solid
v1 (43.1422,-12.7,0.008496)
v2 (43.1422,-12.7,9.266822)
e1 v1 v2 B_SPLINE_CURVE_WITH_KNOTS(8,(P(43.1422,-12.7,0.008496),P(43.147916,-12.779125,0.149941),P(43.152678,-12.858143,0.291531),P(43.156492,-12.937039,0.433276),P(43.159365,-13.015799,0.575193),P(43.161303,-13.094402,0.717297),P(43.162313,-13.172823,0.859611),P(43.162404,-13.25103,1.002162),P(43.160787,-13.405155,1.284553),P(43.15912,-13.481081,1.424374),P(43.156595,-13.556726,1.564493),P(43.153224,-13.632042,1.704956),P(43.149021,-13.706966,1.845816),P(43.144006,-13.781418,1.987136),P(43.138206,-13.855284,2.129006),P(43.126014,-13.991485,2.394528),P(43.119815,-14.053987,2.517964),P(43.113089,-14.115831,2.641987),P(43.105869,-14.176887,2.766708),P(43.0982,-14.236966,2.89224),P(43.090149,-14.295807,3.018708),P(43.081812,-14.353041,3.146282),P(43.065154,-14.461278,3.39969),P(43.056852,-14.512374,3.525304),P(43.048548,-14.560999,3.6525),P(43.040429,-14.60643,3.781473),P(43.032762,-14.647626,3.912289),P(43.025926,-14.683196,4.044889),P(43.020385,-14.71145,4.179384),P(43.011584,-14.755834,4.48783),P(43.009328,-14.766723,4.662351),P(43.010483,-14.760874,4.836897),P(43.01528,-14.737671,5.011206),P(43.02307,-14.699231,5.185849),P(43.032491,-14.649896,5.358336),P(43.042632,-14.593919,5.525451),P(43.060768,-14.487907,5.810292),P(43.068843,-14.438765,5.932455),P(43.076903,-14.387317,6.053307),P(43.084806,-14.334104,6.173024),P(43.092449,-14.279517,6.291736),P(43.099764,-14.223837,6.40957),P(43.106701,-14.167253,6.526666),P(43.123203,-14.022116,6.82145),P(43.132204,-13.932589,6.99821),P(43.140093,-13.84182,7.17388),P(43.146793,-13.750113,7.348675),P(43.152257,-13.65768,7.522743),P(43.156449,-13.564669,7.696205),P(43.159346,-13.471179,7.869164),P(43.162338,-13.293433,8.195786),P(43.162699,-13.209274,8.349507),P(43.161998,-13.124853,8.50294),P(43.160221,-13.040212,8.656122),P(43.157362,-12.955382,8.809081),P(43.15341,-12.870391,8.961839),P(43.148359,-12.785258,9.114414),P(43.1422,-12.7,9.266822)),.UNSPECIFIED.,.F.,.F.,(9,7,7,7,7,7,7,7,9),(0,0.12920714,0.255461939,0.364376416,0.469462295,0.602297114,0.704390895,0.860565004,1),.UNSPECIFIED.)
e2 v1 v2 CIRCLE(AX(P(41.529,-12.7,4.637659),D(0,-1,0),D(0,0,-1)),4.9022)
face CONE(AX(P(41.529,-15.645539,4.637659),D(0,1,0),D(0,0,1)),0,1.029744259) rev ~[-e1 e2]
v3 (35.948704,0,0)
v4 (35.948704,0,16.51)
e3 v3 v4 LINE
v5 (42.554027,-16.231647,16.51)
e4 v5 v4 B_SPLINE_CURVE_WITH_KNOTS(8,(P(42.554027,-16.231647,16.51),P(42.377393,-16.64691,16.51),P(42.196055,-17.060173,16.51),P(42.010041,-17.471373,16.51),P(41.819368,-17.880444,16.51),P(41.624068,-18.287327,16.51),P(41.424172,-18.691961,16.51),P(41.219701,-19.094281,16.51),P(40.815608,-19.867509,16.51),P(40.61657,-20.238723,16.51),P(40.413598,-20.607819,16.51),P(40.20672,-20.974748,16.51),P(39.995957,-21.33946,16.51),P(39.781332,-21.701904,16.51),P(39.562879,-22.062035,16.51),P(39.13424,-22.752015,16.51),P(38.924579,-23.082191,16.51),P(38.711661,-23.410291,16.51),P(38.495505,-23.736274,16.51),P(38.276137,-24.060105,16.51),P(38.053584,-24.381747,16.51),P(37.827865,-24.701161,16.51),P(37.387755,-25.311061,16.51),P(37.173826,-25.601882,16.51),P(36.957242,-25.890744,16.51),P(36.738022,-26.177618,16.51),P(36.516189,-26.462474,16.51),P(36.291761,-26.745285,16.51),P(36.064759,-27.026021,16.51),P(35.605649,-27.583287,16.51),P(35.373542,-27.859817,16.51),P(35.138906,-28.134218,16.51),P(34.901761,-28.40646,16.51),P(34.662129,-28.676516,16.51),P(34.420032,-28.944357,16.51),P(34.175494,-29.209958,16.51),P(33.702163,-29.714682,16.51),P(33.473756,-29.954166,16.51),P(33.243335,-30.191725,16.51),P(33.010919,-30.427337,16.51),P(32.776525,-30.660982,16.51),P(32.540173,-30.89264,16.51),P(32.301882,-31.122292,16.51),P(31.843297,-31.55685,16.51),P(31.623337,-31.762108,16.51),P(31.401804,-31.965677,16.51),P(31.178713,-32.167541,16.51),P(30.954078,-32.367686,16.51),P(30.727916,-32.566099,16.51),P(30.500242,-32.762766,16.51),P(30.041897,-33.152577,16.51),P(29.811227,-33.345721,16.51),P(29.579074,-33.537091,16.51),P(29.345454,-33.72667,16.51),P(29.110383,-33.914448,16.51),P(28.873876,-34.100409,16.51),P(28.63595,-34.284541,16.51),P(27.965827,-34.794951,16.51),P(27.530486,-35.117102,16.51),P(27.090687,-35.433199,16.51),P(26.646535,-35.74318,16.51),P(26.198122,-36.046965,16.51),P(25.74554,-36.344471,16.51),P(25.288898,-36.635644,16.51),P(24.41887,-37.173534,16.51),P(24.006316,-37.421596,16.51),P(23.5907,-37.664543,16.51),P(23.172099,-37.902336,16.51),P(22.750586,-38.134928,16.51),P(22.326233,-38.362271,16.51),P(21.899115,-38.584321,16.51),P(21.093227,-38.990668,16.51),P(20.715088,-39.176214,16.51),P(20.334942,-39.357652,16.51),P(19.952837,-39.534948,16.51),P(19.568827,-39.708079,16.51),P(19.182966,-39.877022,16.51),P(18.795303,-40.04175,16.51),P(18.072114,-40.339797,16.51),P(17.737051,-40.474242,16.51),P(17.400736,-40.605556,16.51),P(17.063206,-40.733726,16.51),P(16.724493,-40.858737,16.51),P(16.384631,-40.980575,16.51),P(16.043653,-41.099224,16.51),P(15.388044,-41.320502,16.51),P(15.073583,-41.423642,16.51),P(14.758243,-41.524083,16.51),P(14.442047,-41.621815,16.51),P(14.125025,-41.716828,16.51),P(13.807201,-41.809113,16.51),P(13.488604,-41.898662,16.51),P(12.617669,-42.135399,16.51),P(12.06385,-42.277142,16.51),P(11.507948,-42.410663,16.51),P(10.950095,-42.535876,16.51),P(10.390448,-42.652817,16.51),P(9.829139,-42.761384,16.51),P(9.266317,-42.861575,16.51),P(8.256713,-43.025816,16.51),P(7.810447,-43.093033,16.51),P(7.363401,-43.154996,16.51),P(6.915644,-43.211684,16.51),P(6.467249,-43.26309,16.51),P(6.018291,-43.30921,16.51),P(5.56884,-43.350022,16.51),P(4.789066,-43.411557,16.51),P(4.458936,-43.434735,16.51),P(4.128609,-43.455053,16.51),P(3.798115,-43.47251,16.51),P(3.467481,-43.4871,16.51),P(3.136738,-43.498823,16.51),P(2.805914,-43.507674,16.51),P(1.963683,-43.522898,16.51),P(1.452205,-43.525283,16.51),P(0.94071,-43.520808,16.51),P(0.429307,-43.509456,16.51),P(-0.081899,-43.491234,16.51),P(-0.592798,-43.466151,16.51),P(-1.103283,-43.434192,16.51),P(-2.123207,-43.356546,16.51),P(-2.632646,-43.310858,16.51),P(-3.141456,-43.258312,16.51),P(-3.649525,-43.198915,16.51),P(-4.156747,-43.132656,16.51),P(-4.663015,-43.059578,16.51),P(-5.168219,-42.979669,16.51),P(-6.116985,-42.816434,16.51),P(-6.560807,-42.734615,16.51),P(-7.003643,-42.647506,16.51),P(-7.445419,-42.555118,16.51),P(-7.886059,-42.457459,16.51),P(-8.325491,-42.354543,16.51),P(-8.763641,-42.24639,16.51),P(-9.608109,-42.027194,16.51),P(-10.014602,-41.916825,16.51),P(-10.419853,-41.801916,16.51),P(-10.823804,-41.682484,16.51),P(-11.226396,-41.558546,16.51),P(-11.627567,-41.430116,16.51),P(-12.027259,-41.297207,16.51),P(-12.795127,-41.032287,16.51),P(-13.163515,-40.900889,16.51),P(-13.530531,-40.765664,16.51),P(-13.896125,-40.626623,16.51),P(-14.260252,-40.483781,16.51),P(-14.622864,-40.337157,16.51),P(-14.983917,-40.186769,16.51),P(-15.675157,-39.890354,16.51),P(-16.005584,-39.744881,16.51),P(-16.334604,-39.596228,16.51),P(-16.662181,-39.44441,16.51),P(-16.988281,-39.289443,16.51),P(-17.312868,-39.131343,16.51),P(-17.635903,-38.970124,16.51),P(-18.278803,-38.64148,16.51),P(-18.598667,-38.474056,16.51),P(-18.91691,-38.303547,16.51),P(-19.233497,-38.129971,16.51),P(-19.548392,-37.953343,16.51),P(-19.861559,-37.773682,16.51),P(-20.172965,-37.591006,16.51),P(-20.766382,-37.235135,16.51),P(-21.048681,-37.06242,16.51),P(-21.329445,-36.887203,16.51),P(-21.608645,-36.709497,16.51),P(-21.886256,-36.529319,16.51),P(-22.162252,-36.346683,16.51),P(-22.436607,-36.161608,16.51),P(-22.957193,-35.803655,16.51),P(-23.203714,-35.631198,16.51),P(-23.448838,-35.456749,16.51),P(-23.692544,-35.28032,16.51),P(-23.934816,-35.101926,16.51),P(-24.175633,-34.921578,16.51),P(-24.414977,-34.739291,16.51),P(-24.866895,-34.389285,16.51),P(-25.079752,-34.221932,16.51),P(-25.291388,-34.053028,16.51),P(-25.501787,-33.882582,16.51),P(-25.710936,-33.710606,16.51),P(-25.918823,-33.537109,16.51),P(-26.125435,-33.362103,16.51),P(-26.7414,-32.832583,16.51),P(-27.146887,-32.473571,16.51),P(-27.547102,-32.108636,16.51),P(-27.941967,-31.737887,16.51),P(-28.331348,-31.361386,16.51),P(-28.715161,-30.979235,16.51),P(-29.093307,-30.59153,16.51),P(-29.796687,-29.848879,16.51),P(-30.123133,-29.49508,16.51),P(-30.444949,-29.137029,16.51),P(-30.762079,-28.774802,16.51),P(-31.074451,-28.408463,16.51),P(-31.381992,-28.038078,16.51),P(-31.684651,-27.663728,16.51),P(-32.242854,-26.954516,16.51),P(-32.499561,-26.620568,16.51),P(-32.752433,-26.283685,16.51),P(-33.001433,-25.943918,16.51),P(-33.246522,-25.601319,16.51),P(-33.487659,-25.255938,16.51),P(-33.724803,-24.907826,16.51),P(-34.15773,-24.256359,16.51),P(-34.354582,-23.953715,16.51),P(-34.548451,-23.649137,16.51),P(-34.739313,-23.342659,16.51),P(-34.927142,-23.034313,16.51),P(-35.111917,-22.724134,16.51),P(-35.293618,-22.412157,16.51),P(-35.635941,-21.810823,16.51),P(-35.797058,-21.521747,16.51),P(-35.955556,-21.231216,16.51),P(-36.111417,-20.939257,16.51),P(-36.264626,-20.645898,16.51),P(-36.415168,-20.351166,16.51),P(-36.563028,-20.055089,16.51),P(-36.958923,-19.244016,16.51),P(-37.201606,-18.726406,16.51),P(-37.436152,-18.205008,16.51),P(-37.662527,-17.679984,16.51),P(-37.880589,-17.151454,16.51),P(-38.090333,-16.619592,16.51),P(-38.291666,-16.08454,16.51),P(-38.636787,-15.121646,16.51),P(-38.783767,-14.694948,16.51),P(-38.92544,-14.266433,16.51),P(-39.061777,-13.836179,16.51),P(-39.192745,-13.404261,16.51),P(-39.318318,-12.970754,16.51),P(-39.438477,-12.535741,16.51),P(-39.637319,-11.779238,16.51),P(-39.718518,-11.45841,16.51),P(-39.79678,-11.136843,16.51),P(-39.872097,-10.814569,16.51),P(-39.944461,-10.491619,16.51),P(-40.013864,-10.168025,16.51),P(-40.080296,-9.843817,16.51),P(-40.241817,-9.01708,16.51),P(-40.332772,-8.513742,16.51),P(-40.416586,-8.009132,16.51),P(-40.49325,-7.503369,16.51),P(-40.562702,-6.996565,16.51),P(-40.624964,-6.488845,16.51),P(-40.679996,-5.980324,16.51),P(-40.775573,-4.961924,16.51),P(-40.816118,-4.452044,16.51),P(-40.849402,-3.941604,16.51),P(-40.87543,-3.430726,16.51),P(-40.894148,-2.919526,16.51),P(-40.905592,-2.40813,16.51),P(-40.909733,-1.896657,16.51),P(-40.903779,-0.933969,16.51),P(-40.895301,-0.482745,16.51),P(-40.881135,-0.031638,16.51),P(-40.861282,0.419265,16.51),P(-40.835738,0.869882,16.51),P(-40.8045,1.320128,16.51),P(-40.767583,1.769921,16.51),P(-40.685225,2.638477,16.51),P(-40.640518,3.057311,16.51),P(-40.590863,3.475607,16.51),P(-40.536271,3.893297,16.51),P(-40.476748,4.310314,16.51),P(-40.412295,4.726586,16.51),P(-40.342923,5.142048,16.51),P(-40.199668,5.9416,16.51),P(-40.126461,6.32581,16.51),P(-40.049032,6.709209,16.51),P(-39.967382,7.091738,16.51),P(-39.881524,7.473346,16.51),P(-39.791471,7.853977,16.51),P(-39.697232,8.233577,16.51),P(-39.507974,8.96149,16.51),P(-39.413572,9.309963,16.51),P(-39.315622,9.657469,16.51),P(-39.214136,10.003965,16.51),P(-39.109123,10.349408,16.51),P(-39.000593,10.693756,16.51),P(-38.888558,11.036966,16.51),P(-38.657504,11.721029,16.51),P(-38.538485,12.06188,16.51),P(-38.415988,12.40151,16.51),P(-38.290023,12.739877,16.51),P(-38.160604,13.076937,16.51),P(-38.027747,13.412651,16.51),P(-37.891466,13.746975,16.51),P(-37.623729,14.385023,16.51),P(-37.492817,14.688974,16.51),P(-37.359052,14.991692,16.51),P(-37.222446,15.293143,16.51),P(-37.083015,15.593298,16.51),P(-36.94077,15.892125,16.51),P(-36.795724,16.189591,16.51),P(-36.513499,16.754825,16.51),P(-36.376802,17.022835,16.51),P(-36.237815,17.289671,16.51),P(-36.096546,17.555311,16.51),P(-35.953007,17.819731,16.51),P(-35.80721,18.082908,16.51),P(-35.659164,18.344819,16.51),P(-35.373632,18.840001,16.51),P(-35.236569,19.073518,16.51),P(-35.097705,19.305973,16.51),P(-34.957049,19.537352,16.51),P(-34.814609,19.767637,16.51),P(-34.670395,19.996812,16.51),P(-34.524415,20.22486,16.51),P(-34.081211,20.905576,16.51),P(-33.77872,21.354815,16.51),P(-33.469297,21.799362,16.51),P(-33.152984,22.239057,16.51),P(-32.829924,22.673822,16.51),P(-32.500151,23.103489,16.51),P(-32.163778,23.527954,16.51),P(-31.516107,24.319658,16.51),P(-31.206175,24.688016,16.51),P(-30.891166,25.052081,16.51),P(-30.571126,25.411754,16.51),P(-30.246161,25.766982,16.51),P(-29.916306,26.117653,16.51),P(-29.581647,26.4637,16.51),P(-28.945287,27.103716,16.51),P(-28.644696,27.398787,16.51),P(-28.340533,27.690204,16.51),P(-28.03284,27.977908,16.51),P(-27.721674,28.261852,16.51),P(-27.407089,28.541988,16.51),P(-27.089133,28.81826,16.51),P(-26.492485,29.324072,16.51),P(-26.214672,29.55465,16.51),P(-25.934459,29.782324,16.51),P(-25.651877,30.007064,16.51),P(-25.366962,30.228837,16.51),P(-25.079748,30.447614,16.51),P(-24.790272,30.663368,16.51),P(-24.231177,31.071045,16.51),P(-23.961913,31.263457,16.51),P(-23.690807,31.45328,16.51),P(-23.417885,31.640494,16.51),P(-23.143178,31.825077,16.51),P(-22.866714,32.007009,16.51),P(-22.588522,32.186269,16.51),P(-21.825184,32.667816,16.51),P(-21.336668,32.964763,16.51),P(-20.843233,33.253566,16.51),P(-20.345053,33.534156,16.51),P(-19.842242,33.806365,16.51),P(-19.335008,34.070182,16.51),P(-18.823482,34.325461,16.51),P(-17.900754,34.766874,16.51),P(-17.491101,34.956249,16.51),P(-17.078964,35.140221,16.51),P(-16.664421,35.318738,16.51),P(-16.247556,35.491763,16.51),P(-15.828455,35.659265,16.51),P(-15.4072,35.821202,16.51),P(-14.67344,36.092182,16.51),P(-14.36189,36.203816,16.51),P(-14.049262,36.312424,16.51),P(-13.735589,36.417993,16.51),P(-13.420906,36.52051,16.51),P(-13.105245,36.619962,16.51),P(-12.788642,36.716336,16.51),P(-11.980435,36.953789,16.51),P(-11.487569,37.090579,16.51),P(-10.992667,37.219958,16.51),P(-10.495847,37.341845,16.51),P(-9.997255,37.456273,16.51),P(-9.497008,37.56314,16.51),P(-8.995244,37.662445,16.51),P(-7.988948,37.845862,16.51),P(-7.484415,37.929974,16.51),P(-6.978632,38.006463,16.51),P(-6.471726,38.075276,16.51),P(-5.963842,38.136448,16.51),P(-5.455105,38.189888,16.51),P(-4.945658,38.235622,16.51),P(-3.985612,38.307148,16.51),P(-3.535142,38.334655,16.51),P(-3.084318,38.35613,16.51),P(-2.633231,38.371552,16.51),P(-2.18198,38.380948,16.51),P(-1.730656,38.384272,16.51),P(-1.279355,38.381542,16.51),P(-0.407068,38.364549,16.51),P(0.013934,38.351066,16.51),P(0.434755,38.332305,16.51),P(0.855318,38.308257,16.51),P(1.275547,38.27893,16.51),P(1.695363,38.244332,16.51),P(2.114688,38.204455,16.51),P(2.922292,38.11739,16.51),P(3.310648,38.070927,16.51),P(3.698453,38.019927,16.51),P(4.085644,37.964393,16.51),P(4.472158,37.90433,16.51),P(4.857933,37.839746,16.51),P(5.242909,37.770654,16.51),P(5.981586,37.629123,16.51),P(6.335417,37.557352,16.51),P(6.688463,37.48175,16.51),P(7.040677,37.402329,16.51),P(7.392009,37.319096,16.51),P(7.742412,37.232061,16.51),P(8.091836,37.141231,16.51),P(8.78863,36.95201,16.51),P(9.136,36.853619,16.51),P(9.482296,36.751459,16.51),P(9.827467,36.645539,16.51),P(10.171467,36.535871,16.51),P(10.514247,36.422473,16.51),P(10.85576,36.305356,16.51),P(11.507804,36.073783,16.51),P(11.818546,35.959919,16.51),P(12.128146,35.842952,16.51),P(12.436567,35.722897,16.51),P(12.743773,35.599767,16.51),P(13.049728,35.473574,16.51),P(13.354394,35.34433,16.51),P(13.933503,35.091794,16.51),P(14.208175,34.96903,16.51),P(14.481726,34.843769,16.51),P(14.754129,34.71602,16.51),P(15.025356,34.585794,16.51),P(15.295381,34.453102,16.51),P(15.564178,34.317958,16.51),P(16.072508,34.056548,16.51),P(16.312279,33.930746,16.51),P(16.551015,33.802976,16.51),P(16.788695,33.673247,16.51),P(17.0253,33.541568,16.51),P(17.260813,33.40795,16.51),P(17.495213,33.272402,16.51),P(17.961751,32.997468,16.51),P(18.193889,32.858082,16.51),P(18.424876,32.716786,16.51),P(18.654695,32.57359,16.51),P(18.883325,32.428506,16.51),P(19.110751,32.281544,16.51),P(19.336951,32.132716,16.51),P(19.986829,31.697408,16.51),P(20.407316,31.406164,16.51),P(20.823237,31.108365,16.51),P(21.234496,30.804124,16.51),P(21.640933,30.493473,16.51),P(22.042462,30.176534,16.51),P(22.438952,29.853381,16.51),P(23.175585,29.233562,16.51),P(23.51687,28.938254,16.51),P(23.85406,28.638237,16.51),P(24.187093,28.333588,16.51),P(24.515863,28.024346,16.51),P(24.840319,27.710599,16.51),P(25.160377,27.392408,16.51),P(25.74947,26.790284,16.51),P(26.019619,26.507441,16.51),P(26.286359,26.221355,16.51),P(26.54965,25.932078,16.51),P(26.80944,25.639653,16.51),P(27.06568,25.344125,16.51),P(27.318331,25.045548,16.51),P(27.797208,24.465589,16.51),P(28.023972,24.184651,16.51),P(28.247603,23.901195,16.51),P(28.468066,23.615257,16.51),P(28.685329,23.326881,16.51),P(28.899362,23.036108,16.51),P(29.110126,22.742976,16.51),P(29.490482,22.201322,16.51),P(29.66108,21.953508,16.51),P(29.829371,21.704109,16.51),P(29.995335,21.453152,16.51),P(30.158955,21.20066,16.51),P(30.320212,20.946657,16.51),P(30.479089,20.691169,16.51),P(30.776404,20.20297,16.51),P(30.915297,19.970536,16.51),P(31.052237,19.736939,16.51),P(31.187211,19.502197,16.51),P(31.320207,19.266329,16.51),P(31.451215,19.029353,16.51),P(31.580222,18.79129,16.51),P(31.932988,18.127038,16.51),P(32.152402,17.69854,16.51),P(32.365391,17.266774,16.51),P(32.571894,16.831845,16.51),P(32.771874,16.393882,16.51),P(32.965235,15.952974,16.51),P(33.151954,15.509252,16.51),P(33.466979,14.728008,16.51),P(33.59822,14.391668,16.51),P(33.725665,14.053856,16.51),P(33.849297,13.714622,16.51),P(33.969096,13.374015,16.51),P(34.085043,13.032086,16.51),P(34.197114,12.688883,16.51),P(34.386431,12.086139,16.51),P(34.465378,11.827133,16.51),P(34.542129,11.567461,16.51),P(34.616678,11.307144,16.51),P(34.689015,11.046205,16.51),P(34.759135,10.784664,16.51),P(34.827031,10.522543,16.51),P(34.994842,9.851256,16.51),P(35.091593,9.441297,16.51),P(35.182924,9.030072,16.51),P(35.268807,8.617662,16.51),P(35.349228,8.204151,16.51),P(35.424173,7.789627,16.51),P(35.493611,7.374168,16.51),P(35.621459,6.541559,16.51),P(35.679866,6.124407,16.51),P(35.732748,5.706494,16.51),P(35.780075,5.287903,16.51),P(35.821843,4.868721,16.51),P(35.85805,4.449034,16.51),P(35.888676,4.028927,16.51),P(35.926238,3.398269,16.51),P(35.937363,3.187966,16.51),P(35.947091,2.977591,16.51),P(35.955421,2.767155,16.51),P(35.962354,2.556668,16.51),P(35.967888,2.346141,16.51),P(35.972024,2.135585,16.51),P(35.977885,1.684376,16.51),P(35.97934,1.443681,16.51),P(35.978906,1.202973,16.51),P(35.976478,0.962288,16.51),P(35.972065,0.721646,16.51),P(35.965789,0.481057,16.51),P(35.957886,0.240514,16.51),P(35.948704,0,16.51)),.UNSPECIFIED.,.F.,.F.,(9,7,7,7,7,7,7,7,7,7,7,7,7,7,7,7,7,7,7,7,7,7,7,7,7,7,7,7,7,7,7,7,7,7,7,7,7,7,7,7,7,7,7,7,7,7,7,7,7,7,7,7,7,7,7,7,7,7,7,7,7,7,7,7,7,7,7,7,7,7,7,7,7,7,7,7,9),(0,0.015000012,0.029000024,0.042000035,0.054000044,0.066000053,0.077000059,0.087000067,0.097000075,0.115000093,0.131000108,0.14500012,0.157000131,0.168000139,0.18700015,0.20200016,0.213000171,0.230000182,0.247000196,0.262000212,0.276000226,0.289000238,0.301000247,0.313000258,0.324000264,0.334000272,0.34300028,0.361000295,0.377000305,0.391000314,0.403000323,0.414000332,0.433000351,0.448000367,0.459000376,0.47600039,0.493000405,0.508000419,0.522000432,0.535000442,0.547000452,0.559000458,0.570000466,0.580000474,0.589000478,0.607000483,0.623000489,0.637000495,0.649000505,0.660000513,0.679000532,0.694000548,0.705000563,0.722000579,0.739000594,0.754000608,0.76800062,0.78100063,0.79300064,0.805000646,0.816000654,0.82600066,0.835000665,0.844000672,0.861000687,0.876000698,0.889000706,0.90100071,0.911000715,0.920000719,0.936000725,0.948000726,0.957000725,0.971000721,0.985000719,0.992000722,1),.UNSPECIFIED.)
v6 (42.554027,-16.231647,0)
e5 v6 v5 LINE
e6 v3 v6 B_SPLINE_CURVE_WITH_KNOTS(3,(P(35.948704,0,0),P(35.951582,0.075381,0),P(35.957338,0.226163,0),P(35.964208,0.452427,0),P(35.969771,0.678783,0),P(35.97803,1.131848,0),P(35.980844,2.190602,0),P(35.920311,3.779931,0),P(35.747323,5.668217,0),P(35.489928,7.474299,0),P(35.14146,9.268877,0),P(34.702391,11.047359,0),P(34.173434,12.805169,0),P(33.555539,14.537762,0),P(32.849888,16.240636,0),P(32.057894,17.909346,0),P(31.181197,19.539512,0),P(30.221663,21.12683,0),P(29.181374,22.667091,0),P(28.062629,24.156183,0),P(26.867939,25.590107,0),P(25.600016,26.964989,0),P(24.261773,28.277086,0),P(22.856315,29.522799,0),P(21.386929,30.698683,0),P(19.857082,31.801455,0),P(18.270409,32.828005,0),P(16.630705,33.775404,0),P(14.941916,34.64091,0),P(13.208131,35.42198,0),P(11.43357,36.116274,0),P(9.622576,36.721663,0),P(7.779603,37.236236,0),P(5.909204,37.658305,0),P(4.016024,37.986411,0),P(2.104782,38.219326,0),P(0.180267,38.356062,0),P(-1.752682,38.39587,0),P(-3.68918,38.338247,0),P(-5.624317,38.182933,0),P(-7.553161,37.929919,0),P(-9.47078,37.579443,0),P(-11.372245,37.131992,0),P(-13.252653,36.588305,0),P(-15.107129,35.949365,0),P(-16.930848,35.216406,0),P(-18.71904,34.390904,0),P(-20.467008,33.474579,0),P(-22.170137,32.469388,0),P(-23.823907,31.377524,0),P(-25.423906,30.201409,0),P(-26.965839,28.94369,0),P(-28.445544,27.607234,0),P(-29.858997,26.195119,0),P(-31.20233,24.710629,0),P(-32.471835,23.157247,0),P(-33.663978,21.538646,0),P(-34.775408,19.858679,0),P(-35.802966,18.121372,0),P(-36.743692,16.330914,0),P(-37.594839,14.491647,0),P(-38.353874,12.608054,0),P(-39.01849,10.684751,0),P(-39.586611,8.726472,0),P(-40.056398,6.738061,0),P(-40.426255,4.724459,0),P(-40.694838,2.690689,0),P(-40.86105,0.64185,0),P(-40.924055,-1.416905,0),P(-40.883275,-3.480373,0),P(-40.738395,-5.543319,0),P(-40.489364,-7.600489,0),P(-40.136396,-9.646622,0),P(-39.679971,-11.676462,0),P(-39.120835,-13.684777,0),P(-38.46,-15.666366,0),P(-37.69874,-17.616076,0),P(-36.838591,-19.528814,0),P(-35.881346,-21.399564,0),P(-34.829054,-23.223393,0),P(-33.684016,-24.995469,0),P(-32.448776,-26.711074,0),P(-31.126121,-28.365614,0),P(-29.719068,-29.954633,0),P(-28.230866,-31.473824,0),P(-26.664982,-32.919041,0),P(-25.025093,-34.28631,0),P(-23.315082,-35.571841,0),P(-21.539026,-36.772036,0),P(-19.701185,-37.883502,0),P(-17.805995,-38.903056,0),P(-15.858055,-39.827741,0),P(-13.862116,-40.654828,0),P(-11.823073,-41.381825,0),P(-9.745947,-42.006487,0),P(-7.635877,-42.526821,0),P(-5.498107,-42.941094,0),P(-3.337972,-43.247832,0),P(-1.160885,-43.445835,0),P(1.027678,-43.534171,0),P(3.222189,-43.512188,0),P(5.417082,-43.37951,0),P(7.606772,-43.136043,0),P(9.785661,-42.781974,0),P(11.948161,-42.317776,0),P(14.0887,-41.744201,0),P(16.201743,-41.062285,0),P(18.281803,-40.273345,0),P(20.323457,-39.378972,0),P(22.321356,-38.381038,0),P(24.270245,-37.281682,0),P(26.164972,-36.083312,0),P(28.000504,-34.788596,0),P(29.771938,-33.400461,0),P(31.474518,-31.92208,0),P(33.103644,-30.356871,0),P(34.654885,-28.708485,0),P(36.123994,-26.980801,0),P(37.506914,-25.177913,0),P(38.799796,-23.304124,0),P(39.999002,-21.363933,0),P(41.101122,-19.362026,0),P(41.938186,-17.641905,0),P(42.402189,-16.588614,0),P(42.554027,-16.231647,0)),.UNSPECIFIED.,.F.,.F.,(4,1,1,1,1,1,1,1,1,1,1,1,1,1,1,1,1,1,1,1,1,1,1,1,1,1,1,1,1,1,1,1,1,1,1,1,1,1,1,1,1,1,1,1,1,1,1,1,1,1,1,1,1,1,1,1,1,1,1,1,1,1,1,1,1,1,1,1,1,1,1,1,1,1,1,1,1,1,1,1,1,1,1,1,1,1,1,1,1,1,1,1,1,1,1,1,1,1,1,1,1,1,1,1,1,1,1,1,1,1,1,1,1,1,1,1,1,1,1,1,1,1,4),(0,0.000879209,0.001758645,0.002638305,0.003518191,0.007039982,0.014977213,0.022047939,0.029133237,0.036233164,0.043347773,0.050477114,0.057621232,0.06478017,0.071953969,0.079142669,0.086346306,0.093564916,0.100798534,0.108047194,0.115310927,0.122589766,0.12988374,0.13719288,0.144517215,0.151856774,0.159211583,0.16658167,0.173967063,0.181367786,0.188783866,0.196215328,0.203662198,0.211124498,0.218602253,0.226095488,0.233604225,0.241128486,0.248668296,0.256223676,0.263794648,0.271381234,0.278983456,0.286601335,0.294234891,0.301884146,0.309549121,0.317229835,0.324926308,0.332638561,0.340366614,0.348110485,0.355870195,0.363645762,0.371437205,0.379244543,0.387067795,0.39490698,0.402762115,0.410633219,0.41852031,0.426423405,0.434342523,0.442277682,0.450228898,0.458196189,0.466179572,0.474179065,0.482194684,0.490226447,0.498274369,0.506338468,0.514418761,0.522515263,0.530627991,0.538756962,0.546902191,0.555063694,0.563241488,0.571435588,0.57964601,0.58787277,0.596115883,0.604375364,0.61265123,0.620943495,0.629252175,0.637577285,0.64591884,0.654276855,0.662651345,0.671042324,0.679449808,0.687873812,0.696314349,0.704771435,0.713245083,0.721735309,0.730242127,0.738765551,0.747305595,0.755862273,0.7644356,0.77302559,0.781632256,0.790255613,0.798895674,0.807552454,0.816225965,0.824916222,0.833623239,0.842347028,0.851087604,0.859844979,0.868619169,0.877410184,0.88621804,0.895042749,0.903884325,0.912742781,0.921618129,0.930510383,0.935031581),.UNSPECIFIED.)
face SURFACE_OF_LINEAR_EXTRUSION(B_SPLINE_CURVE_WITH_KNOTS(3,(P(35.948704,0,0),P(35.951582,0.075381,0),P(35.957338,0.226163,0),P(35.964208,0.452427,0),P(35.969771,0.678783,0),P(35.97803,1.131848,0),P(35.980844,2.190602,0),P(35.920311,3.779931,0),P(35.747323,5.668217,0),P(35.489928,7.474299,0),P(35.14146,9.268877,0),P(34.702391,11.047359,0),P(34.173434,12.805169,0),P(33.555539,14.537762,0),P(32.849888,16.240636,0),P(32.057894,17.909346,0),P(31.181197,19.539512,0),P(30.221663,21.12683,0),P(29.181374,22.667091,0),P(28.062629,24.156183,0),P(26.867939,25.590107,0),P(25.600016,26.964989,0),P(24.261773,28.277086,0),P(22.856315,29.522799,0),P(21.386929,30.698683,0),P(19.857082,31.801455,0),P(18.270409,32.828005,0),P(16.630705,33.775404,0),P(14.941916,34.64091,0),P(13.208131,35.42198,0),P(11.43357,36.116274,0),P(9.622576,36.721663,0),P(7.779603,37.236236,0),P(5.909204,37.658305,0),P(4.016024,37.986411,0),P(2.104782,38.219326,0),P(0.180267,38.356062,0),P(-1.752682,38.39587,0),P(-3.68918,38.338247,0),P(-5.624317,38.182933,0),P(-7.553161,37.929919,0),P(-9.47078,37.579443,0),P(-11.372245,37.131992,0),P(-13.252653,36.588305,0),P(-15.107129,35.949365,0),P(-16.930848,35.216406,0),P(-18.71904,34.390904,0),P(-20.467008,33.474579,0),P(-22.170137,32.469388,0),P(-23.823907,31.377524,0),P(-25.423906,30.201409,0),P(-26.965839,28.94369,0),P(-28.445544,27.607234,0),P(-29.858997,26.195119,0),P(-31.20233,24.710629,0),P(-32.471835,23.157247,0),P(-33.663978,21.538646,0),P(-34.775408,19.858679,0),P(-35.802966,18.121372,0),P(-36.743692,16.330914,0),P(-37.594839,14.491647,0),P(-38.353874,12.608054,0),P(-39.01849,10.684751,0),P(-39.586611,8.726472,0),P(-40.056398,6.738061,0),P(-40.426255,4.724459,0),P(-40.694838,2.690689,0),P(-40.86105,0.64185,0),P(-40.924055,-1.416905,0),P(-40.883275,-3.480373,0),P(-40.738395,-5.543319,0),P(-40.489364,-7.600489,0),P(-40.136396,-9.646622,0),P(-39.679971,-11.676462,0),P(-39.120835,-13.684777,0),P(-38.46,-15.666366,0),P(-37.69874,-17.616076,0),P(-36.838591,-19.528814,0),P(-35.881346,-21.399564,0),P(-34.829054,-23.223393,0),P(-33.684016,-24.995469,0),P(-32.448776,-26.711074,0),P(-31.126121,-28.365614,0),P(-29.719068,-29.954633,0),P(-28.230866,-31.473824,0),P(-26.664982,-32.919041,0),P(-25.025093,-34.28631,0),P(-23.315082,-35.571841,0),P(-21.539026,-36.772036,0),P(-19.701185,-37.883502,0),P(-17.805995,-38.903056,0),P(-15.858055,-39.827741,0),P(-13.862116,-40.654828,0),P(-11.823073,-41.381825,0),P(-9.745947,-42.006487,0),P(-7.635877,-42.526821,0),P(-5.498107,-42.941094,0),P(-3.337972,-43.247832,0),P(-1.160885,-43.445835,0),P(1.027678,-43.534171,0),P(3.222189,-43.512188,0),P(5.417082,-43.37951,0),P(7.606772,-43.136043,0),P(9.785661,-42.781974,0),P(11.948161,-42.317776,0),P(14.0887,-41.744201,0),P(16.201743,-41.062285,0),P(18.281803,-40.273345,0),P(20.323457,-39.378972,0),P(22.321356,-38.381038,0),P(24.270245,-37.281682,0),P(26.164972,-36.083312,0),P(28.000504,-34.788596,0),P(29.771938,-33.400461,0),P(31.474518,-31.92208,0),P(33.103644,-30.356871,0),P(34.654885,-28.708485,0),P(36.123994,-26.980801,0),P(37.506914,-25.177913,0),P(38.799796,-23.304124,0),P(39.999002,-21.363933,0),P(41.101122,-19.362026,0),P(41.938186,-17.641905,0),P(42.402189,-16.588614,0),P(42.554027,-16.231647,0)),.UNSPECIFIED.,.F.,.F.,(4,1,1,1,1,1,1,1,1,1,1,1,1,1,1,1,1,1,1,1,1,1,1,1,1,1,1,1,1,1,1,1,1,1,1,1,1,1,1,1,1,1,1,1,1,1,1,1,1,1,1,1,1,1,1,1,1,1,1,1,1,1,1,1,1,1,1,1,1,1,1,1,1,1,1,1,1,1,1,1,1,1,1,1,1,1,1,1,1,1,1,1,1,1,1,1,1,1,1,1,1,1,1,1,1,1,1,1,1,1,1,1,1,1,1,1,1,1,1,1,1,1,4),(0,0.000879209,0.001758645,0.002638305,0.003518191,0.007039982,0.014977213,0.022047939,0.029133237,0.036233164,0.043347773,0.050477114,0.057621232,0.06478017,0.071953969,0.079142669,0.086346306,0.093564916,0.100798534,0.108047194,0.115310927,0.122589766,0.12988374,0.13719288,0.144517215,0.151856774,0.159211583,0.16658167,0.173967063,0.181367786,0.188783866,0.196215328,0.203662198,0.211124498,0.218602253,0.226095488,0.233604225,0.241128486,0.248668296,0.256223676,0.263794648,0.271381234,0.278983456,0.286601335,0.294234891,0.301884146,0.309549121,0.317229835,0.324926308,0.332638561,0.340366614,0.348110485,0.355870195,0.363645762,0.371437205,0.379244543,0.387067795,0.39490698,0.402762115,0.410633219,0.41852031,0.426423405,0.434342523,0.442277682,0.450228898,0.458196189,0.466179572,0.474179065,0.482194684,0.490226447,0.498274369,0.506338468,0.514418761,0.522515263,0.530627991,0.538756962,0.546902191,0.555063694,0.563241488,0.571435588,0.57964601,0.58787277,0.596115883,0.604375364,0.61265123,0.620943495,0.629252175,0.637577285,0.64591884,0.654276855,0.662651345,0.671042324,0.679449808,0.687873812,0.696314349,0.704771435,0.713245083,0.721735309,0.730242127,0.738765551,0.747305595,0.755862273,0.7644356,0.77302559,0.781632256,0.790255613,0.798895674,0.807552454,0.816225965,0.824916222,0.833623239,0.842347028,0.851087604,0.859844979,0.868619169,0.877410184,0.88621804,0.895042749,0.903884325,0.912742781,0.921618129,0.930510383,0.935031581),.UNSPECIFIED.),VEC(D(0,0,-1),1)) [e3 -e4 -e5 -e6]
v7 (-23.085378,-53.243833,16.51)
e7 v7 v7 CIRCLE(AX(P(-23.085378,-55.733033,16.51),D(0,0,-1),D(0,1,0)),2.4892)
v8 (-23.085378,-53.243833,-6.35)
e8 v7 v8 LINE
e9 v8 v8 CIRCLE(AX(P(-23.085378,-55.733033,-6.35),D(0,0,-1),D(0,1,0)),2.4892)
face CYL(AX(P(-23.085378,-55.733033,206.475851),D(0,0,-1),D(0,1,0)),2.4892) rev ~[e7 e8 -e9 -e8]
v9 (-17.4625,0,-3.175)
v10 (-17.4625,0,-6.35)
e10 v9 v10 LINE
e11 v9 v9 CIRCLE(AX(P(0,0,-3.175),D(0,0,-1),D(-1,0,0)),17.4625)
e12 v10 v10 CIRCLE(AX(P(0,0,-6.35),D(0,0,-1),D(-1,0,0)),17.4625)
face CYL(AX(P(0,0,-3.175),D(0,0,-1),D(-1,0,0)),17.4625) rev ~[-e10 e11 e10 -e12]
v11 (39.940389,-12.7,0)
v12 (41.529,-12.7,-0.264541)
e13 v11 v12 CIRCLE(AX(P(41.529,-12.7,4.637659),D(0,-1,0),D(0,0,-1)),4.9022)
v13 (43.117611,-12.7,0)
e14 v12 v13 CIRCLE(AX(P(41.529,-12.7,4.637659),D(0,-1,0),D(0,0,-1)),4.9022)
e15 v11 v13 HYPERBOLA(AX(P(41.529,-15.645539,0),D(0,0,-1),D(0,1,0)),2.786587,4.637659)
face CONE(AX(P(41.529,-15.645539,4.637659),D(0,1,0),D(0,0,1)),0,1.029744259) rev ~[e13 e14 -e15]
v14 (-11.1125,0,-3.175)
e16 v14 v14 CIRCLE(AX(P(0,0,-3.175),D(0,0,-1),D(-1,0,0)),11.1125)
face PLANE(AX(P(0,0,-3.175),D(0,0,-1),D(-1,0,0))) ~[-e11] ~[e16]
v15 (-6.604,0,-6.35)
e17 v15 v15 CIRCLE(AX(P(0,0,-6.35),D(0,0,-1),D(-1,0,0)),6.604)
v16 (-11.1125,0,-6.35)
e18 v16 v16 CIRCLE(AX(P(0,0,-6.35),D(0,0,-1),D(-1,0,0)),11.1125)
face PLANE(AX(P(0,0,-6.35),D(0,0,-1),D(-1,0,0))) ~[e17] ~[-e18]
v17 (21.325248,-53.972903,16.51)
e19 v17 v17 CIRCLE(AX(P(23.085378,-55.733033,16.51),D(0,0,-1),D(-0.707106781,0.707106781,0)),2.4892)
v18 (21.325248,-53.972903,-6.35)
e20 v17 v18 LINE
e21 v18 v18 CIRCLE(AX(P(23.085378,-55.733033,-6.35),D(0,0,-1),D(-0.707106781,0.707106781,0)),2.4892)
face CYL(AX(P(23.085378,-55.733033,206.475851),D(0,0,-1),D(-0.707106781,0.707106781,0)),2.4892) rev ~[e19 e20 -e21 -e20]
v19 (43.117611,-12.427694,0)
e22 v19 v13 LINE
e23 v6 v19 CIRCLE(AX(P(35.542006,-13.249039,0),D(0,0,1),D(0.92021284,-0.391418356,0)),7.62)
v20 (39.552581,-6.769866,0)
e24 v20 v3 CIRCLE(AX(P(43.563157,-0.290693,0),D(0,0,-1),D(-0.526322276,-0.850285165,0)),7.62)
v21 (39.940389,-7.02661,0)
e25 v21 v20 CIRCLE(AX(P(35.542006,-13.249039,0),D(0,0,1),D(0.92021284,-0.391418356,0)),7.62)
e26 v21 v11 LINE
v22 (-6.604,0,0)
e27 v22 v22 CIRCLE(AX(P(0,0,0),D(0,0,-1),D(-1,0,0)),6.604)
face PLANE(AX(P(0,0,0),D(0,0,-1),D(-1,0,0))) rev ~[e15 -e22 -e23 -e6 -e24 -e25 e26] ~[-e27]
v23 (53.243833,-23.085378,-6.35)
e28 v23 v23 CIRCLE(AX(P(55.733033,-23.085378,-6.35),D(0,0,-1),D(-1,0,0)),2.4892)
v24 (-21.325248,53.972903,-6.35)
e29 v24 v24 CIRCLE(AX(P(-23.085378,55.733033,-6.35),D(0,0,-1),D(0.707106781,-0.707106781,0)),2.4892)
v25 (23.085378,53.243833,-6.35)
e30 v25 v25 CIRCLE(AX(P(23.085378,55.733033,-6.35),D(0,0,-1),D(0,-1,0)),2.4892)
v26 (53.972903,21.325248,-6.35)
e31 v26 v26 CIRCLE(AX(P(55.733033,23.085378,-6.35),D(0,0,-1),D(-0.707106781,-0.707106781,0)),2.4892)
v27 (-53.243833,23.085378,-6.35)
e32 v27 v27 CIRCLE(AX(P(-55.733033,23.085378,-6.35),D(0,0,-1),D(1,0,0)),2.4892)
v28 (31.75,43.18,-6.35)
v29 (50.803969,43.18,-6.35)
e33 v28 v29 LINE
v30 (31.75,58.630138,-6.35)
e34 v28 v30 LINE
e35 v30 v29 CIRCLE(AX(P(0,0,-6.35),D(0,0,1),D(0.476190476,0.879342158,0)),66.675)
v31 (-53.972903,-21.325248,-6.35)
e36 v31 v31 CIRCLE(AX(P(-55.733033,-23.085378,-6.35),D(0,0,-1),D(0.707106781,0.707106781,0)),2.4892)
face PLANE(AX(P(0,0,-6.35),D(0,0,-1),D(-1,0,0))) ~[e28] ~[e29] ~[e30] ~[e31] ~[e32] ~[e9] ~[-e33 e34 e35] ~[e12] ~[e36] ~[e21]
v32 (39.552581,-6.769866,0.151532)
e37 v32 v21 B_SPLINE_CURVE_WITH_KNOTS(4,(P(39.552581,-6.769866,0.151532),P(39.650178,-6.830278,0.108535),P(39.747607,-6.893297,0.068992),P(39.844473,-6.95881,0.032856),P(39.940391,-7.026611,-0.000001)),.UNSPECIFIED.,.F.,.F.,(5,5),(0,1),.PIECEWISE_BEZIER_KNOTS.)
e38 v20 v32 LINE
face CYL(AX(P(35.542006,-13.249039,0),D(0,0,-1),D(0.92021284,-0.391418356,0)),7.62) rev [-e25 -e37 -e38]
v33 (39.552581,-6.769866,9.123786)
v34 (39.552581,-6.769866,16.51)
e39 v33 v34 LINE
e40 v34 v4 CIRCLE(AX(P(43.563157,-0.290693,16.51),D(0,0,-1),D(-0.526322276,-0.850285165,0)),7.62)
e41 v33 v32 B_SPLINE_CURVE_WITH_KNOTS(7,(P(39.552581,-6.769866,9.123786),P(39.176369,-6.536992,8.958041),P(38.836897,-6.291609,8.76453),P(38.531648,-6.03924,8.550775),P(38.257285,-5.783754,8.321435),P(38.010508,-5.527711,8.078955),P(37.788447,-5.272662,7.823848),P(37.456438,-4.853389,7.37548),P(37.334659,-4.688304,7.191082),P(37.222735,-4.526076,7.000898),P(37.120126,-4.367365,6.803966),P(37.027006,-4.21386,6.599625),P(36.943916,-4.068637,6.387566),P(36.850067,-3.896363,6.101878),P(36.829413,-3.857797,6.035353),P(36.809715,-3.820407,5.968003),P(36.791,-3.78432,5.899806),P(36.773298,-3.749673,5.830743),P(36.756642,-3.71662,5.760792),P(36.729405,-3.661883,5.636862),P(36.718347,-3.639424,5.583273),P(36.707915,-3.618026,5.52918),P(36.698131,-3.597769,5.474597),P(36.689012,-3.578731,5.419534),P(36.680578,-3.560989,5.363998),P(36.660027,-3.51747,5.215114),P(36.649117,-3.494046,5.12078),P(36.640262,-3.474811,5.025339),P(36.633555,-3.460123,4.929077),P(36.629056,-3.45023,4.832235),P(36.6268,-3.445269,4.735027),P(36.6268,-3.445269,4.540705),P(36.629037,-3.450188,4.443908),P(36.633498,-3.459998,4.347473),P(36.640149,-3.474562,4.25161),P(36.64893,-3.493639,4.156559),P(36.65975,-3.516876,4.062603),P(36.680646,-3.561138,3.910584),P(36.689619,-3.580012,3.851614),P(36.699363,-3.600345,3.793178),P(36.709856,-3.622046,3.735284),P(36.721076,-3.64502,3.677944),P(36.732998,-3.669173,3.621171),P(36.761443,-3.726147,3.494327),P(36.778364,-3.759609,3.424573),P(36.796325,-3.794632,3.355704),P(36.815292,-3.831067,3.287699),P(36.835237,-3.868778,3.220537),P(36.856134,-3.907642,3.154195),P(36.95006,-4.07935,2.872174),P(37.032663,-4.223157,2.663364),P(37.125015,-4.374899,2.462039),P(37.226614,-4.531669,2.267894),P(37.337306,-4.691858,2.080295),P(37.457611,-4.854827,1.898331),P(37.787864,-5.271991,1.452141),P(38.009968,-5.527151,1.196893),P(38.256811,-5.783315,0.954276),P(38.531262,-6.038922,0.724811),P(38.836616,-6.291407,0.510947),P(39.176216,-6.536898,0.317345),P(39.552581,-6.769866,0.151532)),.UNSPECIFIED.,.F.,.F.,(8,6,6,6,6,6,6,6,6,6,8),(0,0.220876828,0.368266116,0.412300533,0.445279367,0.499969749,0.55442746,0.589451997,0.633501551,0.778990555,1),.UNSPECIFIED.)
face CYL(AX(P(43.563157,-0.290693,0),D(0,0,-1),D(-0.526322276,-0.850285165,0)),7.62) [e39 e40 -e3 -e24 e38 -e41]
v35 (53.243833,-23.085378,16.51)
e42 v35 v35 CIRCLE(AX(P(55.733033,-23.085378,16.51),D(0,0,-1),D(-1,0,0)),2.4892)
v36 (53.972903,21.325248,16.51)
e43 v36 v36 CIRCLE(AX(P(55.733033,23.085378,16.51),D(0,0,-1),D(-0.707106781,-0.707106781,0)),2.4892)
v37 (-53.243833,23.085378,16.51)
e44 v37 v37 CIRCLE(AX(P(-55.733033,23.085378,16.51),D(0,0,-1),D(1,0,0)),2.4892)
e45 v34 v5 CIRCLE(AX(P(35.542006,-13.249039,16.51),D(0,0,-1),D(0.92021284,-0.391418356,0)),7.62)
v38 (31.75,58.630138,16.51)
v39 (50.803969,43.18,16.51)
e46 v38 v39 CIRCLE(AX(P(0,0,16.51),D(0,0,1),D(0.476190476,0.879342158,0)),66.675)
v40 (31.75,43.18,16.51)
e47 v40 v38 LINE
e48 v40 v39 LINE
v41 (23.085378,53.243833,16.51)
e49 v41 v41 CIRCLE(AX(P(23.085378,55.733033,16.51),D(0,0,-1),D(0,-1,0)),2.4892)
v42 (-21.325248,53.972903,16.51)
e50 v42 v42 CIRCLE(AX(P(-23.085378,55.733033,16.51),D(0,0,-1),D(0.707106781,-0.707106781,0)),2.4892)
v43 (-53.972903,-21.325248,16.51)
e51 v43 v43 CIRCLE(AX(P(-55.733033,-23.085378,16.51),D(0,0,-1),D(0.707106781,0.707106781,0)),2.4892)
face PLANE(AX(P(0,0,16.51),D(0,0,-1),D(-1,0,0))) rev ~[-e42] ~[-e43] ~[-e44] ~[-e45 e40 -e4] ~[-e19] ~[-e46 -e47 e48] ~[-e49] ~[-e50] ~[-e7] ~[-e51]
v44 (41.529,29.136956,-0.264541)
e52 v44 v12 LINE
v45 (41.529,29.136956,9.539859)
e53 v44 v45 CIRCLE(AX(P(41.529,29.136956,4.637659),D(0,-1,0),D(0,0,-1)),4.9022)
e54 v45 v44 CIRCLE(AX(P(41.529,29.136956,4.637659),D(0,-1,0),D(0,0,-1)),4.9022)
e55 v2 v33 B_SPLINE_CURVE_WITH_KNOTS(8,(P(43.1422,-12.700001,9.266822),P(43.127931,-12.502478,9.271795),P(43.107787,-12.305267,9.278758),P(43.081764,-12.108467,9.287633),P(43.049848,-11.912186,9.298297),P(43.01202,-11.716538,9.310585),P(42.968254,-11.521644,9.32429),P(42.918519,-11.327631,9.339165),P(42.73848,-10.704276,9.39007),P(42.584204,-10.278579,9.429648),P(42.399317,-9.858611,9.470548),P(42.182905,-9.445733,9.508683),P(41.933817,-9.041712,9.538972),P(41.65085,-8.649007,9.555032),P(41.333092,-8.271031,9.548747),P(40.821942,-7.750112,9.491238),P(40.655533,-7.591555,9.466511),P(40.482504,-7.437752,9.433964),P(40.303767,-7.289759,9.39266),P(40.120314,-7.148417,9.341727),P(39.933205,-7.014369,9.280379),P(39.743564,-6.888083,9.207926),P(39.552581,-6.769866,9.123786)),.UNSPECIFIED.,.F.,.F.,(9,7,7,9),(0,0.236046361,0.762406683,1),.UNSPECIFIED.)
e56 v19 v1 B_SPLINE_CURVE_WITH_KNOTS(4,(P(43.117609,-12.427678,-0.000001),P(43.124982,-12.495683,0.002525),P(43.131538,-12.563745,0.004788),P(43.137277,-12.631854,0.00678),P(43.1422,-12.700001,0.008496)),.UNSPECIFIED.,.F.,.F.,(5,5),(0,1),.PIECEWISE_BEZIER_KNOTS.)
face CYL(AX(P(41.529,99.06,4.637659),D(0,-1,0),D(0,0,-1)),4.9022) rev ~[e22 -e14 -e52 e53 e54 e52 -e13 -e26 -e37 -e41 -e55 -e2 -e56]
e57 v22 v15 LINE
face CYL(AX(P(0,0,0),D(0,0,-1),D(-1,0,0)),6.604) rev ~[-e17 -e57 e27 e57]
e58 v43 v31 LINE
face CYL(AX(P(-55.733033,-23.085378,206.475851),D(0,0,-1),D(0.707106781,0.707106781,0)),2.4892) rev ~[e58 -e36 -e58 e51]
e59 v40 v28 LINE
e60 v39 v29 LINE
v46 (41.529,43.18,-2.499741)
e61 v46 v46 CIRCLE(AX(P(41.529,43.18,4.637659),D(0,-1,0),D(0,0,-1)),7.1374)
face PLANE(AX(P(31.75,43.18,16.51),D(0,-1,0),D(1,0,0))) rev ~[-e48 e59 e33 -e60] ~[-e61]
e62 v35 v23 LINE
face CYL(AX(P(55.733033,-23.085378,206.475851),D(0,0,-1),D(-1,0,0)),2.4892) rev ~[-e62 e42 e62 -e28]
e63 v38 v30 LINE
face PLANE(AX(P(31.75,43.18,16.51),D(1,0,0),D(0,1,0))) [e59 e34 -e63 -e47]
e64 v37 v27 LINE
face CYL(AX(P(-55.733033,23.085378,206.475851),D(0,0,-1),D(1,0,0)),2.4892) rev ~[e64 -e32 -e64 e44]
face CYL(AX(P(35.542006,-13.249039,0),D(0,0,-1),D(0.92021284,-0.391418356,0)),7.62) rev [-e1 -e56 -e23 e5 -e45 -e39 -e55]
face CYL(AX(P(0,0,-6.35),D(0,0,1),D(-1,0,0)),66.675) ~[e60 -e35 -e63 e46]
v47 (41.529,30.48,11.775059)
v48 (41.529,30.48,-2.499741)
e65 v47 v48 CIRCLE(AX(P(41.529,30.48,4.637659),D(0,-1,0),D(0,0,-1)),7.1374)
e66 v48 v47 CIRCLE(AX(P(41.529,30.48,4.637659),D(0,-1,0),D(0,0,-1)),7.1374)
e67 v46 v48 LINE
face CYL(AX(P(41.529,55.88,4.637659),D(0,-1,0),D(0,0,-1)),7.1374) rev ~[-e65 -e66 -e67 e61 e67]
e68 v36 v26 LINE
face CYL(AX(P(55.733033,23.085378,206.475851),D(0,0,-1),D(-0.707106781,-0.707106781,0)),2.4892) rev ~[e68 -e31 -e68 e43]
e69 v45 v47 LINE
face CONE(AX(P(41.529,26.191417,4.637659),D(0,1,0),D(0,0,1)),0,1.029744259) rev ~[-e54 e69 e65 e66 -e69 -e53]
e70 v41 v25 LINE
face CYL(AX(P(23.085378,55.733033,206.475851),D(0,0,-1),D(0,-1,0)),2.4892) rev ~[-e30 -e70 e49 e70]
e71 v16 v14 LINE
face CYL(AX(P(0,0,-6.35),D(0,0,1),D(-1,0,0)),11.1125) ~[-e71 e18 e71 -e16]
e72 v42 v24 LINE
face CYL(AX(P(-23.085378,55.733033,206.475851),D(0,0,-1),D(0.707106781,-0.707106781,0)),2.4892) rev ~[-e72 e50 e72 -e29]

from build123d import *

# Parameters (mm, degrees)
SKETCH23_R            = 25.4
VOLUTE_CUT_DEPTH      = 17.51
SKETCH28_W            = 19.053968595
SKETCH28_H            = 15.450138368
OUTLET_HOLE_CUT_DEPTH = 23.86
OUTLET_HOLE_D         = 9.8044
OUTLET_HOLE_DEPTH     = 55.88
OUTLET_HOLE_TIP       = 2.945538927
OUTLET_NPT_D          = 14.2748
OUTLET_NPT_DEPTH      = 12.7
OUTLET_NPT_TIP        = 4.288582582
FASTENER_HOLES_D      = 4.9784
CIRPATTERN1_COUNT     = 8


with BuildPart() as part:
    # Sketch22 → Main Body (revolve)
    with BuildSketch(Plane(origin=(0, 0, 0), x_dir=(1, 0, 0), z_dir=(0, 1, 0))):
        Polygon((-25.4, 0), (-6.604, 0), (-6.604, 6.35), (-11.1125, 6.35), (-11.1125, 3.175), (-17.4625, 3.175), (-17.4625, 6.35), (-66.675, 6.35), (-66.675, -16.51), (-25.4, -16.51), align=None)
    revolve(axis=Axis((0, 0, 0), (0, 0, -1)))

    # Sketch23 → Volute Cut (cut, through all)
    with BuildSketch(Plane.XY):
        with BuildLine():
            ThreePointArc((42.554027377, -16.231646763), (42.805320101, -10.94498561), (39.552581276, -6.769865934))
            ThreePointArc((39.552581276, -6.769865934), (36.836858206, -3.87137787), (35.948703812, 0))
            add(Edge.make_bspline(
                [(35.948703812, 0), (35.9515816, 0.07538119), (35.957337916, 0.226162951), (35.964207937, 0.452426553), (35.969771157, 0.678783022), (35.978029534, 1.131847853), (35.980843708, 2.190601907), (35.920311441, 3.779931016), (35.747323363, 5.668216834), (35.489928088, 7.474298946), (35.141459932, 9.268877369), (34.702390603, 11.047358984), (34.17343386, 12.80516853), (33.555538624, 14.537761538), (32.849887572, 16.240636382), (32.057893687, 17.909346365), (31.181197352, 19.53951152), (30.221662701, 21.126830276), (29.181373626, 22.667090912), (28.062629225, 24.156182809), (26.867938753, 25.590107465), (25.60001603, 26.964989265), (24.261773335, 28.277085961), (22.856314773, 29.522798851), (21.386929147, 30.698682629), (19.85708232, 31.801454876), (18.270409111, 32.828005175), (16.630704717, 33.775403815), (14.941915703, 34.640910073), (13.208130556, 35.421980041), (11.43356985, 36.116273987), (9.622576022, 36.721663214), (7.779602801, 37.236236415), (5.909204301, 37.658305492), (4.016023818, 37.986410831), (2.104782347, 38.219326014), (0.180266852, 38.356061949), (-1.75268168, 38.395870413), (-3.689180377, 38.338246992), (-5.624316777, 38.182933409), (-7.553161251, 37.929919231), (-9.470779522, 37.579442948), (-11.37224525, 37.131992419), (-13.252652651, 36.588304682), (-15.107129112, 35.949365124), (-16.930847778, 35.216406011), (-18.719040078, 34.390904381), (-20.467008144, 33.474579298), (-22.170137115, 32.469388481), (-23.823907266, 31.377524301), (-25.42390596, 30.201409162), (-26.965839357, 28.943690275), (-28.445543888, 27.607233836), (-29.858997424, 26.195118613), (-31.202330147, 24.710628968), (-32.471835063, 23.157247319), (-33.663978152, 21.538646066), (-34.775408104, 19.858679), (-35.802965645, 18.121372202), (-36.743692396, 16.330914471), (-37.594839261, 14.491647299), (-38.353874308, 12.608054401), (-39.018490139, 10.68475085), (-39.586610697, 8.726471825), (-40.056397525, 6.738061006), (-40.426255434, 4.724458642), (-40.694837576, 2.690689328), (-40.861049894, 0.641849508), (-40.924054953, -1.416905249), (-40.883275123, -3.480373184), (-40.738395114, -5.543319447), (-40.489363842, -7.600489337), (-40.13639564, -9.646621653), (-39.679970776, -11.676462103), (-39.120835312, -13.684776759), (-38.460000265, -15.666365517), (-37.698740094, -17.61607551), (-36.838590511, -19.528814477), (-35.881345602, -21.399564006), (-34.829054288, -23.223392663), (-33.684016107, -24.995468936), (-32.44877635, -26.711073982), (-31.126120537, -28.365614138), (-29.719068263, -29.954633155), (-28.230866416, -31.473824138), (-26.664981791, -32.919041144), (-25.025093105, -34.286310417), (-23.315082441, -35.571841228), (-21.53902614, -36.772036288), (-19.701185153, -37.883501708), (-17.805994889, -38.903056478), (-15.85805457, -39.827741435), (-13.862116128, -40.654827709), (-11.823072667, -41.381824596), (-9.745946518, -42.006486871), (-7.635876912, -42.526821485), (-5.498107312, -42.941093656), (-3.337972426, -43.247832311), (-1.160884928, -43.445834888), (1.027678058, -43.534171454), (3.222188708, -43.512188152), (5.417082419, -43.379509955), (7.606771886, -43.136042707), (9.785661288, -42.781974466), (11.948160555, -42.317776118), (14.08869967, -41.74420128), (16.201742982, -41.062285471), (18.281803484, -40.273344558), (20.323457017, -39.378972487), (22.321356376, -38.381038284), (24.27024527, -37.281682345), (26.164972102, -36.083312015), (28.000503535, -34.788596469), (29.77193781, -33.400460899), (31.474517775, -31.92208003), (33.103643596, -30.356870964), (34.654885111, -28.708485383), (36.123993806, -26.980801118), (37.506914359, -25.17791311), (38.799795742, -23.304123775), (39.999001844, -21.363932809), (41.101121576, -19.362026441), (41.938186302, -17.641904891), (42.402189205, -16.588613759), (42.554027377, -16.231646763)],
                knots=[0, 0, 0, 0, 0.000879209, 0.001758645, 0.002638305, 0.003518191, 0.007039982, 0.014977213, 0.022047939, 0.029133237, 0.036233164, 0.043347773, 0.050477114, 0.057621232, 0.06478017, 0.071953969, 0.079142669, 0.086346306, 0.093564916, 0.100798534, 0.108047194, 0.115310927, 0.122589766, 0.12988374, 0.13719288, 0.144517215, 0.151856774, 0.159211583, 0.16658167, 0.173967063, 0.181367786, 0.188783866, 0.196215328, 0.203662198, 0.211124498, 0.218602253, 0.226095488, 0.233604225, 0.241128486, 0.248668296, 0.256223676, 0.263794648, 0.271381234, 0.278983456, 0.286601335, 0.294234891, 0.301884146, 0.309549121, 0.317229835, 0.324926308, 0.332638561, 0.340366614, 0.348110485, 0.355870195, 0.363645762, 0.371437205, 0.379244543, 0.387067795, 0.39490698, 0.402762115, 0.410633219, 0.41852031, 0.426423405, 0.434342523, 0.442277682, 0.450228898, 0.458196189, 0.466179572, 0.474179065, 0.482194684, 0.490226447, 0.498274369, 0.506338468, 0.514418761, 0.522515263, 0.530627991, 0.538756962, 0.546902191, 0.555063694, 0.563241488, 0.571435588, 0.57964601, 0.58787277, 0.596115883, 0.604375364, 0.61265123, 0.620943495, 0.629252175, 0.637577285, 0.64591884, 0.654276855, 0.662651345, 0.671042324, 0.679449808, 0.687873812, 0.696314349, 0.704771435, 0.713245083, 0.721735309, 0.730242127, 0.738765551, 0.747305595, 0.755862273, 0.7644356, 0.77302559, 0.781632256, 0.790255613, 0.798895674, 0.807552454, 0.816225965, 0.824916222, 0.833623239, 0.842347028, 0.851087604, 0.859844979, 0.868619169, 0.877410184, 0.88621804, 0.895042749, 0.903884325, 0.912742781, 0.921618129, 0.930510383, 0.935031581, 0.935031581, 0.935031581, 0.935031581], degree=3))
        make_face()
        Circle(SKETCH23_R, mode=Mode.SUBTRACT)
    extrude(amount=VOLUTE_CUT_DEPTH, mode=Mode.SUBTRACT)

    # Sketch28 → Outlet Hole Cut (cut, through all)
    with BuildSketch(Plane.XY.offset(16.51)):
        with Locations((41.276984298, 50.905069184)):
            Rectangle(SKETCH28_W, SKETCH28_H)
    extrude(amount=-OUTLET_HOLE_CUT_DEPTH, mode=Mode.SUBTRACT)

    # Outlet Hole
    with Locations(Plane(origin=(41.529, 43.18, 4.637659), x_dir=(0, 0, 1), z_dir=(0, 1, 0))):
        with Locations((0, 0)):
            Hole(OUTLET_HOLE_D / 2, depth=OUTLET_HOLE_DEPTH)
            with Locations((0, 0, -(OUTLET_HOLE_DEPTH + OUTLET_HOLE_TIP / 2))):  # 118° drill point
                Cone(0, OUTLET_HOLE_D / 2, OUTLET_HOLE_TIP, mode=Mode.SUBTRACT)

    # Outlet NPT
    with Locations(Plane(origin=(41.529, 43.18, 4.637659), x_dir=(0, 0, 1), z_dir=(0, 1, 0))):
        with Locations((0, 0)):
            Hole(OUTLET_NPT_D / 2, depth=OUTLET_NPT_DEPTH)
            with Locations((0, 0, -(OUTLET_NPT_DEPTH + OUTLET_NPT_TIP / 2))):  # 118° drill point
                Cone(0, OUTLET_NPT_D / 2, OUTLET_NPT_TIP, mode=Mode.SUBTRACT)

    # Fastener Holes (through all)
    with Locations(Plane(origin=(55.733032799, -23.085378057, 16.51), x_dir=(1, 0, 0), z_dir=(0, 0, 1))):
        with Locations((0, 0)):
            fastener_holes = Hole(FASTENER_HOLES_D / 2)

    # CirPattern1: Fastener Holes ×8 about axis
    cirpattern1_axis = Axis((0, 0, 0), (0, 0, 1))
    for i in range(1, CIRPATTERN1_COUNT):
        add(fastener_holes.rotate(cirpattern1_axis, i * 360 / CIRPATTERN1_COUNT), mode=Mode.SUBTRACT)


solid = part.part
